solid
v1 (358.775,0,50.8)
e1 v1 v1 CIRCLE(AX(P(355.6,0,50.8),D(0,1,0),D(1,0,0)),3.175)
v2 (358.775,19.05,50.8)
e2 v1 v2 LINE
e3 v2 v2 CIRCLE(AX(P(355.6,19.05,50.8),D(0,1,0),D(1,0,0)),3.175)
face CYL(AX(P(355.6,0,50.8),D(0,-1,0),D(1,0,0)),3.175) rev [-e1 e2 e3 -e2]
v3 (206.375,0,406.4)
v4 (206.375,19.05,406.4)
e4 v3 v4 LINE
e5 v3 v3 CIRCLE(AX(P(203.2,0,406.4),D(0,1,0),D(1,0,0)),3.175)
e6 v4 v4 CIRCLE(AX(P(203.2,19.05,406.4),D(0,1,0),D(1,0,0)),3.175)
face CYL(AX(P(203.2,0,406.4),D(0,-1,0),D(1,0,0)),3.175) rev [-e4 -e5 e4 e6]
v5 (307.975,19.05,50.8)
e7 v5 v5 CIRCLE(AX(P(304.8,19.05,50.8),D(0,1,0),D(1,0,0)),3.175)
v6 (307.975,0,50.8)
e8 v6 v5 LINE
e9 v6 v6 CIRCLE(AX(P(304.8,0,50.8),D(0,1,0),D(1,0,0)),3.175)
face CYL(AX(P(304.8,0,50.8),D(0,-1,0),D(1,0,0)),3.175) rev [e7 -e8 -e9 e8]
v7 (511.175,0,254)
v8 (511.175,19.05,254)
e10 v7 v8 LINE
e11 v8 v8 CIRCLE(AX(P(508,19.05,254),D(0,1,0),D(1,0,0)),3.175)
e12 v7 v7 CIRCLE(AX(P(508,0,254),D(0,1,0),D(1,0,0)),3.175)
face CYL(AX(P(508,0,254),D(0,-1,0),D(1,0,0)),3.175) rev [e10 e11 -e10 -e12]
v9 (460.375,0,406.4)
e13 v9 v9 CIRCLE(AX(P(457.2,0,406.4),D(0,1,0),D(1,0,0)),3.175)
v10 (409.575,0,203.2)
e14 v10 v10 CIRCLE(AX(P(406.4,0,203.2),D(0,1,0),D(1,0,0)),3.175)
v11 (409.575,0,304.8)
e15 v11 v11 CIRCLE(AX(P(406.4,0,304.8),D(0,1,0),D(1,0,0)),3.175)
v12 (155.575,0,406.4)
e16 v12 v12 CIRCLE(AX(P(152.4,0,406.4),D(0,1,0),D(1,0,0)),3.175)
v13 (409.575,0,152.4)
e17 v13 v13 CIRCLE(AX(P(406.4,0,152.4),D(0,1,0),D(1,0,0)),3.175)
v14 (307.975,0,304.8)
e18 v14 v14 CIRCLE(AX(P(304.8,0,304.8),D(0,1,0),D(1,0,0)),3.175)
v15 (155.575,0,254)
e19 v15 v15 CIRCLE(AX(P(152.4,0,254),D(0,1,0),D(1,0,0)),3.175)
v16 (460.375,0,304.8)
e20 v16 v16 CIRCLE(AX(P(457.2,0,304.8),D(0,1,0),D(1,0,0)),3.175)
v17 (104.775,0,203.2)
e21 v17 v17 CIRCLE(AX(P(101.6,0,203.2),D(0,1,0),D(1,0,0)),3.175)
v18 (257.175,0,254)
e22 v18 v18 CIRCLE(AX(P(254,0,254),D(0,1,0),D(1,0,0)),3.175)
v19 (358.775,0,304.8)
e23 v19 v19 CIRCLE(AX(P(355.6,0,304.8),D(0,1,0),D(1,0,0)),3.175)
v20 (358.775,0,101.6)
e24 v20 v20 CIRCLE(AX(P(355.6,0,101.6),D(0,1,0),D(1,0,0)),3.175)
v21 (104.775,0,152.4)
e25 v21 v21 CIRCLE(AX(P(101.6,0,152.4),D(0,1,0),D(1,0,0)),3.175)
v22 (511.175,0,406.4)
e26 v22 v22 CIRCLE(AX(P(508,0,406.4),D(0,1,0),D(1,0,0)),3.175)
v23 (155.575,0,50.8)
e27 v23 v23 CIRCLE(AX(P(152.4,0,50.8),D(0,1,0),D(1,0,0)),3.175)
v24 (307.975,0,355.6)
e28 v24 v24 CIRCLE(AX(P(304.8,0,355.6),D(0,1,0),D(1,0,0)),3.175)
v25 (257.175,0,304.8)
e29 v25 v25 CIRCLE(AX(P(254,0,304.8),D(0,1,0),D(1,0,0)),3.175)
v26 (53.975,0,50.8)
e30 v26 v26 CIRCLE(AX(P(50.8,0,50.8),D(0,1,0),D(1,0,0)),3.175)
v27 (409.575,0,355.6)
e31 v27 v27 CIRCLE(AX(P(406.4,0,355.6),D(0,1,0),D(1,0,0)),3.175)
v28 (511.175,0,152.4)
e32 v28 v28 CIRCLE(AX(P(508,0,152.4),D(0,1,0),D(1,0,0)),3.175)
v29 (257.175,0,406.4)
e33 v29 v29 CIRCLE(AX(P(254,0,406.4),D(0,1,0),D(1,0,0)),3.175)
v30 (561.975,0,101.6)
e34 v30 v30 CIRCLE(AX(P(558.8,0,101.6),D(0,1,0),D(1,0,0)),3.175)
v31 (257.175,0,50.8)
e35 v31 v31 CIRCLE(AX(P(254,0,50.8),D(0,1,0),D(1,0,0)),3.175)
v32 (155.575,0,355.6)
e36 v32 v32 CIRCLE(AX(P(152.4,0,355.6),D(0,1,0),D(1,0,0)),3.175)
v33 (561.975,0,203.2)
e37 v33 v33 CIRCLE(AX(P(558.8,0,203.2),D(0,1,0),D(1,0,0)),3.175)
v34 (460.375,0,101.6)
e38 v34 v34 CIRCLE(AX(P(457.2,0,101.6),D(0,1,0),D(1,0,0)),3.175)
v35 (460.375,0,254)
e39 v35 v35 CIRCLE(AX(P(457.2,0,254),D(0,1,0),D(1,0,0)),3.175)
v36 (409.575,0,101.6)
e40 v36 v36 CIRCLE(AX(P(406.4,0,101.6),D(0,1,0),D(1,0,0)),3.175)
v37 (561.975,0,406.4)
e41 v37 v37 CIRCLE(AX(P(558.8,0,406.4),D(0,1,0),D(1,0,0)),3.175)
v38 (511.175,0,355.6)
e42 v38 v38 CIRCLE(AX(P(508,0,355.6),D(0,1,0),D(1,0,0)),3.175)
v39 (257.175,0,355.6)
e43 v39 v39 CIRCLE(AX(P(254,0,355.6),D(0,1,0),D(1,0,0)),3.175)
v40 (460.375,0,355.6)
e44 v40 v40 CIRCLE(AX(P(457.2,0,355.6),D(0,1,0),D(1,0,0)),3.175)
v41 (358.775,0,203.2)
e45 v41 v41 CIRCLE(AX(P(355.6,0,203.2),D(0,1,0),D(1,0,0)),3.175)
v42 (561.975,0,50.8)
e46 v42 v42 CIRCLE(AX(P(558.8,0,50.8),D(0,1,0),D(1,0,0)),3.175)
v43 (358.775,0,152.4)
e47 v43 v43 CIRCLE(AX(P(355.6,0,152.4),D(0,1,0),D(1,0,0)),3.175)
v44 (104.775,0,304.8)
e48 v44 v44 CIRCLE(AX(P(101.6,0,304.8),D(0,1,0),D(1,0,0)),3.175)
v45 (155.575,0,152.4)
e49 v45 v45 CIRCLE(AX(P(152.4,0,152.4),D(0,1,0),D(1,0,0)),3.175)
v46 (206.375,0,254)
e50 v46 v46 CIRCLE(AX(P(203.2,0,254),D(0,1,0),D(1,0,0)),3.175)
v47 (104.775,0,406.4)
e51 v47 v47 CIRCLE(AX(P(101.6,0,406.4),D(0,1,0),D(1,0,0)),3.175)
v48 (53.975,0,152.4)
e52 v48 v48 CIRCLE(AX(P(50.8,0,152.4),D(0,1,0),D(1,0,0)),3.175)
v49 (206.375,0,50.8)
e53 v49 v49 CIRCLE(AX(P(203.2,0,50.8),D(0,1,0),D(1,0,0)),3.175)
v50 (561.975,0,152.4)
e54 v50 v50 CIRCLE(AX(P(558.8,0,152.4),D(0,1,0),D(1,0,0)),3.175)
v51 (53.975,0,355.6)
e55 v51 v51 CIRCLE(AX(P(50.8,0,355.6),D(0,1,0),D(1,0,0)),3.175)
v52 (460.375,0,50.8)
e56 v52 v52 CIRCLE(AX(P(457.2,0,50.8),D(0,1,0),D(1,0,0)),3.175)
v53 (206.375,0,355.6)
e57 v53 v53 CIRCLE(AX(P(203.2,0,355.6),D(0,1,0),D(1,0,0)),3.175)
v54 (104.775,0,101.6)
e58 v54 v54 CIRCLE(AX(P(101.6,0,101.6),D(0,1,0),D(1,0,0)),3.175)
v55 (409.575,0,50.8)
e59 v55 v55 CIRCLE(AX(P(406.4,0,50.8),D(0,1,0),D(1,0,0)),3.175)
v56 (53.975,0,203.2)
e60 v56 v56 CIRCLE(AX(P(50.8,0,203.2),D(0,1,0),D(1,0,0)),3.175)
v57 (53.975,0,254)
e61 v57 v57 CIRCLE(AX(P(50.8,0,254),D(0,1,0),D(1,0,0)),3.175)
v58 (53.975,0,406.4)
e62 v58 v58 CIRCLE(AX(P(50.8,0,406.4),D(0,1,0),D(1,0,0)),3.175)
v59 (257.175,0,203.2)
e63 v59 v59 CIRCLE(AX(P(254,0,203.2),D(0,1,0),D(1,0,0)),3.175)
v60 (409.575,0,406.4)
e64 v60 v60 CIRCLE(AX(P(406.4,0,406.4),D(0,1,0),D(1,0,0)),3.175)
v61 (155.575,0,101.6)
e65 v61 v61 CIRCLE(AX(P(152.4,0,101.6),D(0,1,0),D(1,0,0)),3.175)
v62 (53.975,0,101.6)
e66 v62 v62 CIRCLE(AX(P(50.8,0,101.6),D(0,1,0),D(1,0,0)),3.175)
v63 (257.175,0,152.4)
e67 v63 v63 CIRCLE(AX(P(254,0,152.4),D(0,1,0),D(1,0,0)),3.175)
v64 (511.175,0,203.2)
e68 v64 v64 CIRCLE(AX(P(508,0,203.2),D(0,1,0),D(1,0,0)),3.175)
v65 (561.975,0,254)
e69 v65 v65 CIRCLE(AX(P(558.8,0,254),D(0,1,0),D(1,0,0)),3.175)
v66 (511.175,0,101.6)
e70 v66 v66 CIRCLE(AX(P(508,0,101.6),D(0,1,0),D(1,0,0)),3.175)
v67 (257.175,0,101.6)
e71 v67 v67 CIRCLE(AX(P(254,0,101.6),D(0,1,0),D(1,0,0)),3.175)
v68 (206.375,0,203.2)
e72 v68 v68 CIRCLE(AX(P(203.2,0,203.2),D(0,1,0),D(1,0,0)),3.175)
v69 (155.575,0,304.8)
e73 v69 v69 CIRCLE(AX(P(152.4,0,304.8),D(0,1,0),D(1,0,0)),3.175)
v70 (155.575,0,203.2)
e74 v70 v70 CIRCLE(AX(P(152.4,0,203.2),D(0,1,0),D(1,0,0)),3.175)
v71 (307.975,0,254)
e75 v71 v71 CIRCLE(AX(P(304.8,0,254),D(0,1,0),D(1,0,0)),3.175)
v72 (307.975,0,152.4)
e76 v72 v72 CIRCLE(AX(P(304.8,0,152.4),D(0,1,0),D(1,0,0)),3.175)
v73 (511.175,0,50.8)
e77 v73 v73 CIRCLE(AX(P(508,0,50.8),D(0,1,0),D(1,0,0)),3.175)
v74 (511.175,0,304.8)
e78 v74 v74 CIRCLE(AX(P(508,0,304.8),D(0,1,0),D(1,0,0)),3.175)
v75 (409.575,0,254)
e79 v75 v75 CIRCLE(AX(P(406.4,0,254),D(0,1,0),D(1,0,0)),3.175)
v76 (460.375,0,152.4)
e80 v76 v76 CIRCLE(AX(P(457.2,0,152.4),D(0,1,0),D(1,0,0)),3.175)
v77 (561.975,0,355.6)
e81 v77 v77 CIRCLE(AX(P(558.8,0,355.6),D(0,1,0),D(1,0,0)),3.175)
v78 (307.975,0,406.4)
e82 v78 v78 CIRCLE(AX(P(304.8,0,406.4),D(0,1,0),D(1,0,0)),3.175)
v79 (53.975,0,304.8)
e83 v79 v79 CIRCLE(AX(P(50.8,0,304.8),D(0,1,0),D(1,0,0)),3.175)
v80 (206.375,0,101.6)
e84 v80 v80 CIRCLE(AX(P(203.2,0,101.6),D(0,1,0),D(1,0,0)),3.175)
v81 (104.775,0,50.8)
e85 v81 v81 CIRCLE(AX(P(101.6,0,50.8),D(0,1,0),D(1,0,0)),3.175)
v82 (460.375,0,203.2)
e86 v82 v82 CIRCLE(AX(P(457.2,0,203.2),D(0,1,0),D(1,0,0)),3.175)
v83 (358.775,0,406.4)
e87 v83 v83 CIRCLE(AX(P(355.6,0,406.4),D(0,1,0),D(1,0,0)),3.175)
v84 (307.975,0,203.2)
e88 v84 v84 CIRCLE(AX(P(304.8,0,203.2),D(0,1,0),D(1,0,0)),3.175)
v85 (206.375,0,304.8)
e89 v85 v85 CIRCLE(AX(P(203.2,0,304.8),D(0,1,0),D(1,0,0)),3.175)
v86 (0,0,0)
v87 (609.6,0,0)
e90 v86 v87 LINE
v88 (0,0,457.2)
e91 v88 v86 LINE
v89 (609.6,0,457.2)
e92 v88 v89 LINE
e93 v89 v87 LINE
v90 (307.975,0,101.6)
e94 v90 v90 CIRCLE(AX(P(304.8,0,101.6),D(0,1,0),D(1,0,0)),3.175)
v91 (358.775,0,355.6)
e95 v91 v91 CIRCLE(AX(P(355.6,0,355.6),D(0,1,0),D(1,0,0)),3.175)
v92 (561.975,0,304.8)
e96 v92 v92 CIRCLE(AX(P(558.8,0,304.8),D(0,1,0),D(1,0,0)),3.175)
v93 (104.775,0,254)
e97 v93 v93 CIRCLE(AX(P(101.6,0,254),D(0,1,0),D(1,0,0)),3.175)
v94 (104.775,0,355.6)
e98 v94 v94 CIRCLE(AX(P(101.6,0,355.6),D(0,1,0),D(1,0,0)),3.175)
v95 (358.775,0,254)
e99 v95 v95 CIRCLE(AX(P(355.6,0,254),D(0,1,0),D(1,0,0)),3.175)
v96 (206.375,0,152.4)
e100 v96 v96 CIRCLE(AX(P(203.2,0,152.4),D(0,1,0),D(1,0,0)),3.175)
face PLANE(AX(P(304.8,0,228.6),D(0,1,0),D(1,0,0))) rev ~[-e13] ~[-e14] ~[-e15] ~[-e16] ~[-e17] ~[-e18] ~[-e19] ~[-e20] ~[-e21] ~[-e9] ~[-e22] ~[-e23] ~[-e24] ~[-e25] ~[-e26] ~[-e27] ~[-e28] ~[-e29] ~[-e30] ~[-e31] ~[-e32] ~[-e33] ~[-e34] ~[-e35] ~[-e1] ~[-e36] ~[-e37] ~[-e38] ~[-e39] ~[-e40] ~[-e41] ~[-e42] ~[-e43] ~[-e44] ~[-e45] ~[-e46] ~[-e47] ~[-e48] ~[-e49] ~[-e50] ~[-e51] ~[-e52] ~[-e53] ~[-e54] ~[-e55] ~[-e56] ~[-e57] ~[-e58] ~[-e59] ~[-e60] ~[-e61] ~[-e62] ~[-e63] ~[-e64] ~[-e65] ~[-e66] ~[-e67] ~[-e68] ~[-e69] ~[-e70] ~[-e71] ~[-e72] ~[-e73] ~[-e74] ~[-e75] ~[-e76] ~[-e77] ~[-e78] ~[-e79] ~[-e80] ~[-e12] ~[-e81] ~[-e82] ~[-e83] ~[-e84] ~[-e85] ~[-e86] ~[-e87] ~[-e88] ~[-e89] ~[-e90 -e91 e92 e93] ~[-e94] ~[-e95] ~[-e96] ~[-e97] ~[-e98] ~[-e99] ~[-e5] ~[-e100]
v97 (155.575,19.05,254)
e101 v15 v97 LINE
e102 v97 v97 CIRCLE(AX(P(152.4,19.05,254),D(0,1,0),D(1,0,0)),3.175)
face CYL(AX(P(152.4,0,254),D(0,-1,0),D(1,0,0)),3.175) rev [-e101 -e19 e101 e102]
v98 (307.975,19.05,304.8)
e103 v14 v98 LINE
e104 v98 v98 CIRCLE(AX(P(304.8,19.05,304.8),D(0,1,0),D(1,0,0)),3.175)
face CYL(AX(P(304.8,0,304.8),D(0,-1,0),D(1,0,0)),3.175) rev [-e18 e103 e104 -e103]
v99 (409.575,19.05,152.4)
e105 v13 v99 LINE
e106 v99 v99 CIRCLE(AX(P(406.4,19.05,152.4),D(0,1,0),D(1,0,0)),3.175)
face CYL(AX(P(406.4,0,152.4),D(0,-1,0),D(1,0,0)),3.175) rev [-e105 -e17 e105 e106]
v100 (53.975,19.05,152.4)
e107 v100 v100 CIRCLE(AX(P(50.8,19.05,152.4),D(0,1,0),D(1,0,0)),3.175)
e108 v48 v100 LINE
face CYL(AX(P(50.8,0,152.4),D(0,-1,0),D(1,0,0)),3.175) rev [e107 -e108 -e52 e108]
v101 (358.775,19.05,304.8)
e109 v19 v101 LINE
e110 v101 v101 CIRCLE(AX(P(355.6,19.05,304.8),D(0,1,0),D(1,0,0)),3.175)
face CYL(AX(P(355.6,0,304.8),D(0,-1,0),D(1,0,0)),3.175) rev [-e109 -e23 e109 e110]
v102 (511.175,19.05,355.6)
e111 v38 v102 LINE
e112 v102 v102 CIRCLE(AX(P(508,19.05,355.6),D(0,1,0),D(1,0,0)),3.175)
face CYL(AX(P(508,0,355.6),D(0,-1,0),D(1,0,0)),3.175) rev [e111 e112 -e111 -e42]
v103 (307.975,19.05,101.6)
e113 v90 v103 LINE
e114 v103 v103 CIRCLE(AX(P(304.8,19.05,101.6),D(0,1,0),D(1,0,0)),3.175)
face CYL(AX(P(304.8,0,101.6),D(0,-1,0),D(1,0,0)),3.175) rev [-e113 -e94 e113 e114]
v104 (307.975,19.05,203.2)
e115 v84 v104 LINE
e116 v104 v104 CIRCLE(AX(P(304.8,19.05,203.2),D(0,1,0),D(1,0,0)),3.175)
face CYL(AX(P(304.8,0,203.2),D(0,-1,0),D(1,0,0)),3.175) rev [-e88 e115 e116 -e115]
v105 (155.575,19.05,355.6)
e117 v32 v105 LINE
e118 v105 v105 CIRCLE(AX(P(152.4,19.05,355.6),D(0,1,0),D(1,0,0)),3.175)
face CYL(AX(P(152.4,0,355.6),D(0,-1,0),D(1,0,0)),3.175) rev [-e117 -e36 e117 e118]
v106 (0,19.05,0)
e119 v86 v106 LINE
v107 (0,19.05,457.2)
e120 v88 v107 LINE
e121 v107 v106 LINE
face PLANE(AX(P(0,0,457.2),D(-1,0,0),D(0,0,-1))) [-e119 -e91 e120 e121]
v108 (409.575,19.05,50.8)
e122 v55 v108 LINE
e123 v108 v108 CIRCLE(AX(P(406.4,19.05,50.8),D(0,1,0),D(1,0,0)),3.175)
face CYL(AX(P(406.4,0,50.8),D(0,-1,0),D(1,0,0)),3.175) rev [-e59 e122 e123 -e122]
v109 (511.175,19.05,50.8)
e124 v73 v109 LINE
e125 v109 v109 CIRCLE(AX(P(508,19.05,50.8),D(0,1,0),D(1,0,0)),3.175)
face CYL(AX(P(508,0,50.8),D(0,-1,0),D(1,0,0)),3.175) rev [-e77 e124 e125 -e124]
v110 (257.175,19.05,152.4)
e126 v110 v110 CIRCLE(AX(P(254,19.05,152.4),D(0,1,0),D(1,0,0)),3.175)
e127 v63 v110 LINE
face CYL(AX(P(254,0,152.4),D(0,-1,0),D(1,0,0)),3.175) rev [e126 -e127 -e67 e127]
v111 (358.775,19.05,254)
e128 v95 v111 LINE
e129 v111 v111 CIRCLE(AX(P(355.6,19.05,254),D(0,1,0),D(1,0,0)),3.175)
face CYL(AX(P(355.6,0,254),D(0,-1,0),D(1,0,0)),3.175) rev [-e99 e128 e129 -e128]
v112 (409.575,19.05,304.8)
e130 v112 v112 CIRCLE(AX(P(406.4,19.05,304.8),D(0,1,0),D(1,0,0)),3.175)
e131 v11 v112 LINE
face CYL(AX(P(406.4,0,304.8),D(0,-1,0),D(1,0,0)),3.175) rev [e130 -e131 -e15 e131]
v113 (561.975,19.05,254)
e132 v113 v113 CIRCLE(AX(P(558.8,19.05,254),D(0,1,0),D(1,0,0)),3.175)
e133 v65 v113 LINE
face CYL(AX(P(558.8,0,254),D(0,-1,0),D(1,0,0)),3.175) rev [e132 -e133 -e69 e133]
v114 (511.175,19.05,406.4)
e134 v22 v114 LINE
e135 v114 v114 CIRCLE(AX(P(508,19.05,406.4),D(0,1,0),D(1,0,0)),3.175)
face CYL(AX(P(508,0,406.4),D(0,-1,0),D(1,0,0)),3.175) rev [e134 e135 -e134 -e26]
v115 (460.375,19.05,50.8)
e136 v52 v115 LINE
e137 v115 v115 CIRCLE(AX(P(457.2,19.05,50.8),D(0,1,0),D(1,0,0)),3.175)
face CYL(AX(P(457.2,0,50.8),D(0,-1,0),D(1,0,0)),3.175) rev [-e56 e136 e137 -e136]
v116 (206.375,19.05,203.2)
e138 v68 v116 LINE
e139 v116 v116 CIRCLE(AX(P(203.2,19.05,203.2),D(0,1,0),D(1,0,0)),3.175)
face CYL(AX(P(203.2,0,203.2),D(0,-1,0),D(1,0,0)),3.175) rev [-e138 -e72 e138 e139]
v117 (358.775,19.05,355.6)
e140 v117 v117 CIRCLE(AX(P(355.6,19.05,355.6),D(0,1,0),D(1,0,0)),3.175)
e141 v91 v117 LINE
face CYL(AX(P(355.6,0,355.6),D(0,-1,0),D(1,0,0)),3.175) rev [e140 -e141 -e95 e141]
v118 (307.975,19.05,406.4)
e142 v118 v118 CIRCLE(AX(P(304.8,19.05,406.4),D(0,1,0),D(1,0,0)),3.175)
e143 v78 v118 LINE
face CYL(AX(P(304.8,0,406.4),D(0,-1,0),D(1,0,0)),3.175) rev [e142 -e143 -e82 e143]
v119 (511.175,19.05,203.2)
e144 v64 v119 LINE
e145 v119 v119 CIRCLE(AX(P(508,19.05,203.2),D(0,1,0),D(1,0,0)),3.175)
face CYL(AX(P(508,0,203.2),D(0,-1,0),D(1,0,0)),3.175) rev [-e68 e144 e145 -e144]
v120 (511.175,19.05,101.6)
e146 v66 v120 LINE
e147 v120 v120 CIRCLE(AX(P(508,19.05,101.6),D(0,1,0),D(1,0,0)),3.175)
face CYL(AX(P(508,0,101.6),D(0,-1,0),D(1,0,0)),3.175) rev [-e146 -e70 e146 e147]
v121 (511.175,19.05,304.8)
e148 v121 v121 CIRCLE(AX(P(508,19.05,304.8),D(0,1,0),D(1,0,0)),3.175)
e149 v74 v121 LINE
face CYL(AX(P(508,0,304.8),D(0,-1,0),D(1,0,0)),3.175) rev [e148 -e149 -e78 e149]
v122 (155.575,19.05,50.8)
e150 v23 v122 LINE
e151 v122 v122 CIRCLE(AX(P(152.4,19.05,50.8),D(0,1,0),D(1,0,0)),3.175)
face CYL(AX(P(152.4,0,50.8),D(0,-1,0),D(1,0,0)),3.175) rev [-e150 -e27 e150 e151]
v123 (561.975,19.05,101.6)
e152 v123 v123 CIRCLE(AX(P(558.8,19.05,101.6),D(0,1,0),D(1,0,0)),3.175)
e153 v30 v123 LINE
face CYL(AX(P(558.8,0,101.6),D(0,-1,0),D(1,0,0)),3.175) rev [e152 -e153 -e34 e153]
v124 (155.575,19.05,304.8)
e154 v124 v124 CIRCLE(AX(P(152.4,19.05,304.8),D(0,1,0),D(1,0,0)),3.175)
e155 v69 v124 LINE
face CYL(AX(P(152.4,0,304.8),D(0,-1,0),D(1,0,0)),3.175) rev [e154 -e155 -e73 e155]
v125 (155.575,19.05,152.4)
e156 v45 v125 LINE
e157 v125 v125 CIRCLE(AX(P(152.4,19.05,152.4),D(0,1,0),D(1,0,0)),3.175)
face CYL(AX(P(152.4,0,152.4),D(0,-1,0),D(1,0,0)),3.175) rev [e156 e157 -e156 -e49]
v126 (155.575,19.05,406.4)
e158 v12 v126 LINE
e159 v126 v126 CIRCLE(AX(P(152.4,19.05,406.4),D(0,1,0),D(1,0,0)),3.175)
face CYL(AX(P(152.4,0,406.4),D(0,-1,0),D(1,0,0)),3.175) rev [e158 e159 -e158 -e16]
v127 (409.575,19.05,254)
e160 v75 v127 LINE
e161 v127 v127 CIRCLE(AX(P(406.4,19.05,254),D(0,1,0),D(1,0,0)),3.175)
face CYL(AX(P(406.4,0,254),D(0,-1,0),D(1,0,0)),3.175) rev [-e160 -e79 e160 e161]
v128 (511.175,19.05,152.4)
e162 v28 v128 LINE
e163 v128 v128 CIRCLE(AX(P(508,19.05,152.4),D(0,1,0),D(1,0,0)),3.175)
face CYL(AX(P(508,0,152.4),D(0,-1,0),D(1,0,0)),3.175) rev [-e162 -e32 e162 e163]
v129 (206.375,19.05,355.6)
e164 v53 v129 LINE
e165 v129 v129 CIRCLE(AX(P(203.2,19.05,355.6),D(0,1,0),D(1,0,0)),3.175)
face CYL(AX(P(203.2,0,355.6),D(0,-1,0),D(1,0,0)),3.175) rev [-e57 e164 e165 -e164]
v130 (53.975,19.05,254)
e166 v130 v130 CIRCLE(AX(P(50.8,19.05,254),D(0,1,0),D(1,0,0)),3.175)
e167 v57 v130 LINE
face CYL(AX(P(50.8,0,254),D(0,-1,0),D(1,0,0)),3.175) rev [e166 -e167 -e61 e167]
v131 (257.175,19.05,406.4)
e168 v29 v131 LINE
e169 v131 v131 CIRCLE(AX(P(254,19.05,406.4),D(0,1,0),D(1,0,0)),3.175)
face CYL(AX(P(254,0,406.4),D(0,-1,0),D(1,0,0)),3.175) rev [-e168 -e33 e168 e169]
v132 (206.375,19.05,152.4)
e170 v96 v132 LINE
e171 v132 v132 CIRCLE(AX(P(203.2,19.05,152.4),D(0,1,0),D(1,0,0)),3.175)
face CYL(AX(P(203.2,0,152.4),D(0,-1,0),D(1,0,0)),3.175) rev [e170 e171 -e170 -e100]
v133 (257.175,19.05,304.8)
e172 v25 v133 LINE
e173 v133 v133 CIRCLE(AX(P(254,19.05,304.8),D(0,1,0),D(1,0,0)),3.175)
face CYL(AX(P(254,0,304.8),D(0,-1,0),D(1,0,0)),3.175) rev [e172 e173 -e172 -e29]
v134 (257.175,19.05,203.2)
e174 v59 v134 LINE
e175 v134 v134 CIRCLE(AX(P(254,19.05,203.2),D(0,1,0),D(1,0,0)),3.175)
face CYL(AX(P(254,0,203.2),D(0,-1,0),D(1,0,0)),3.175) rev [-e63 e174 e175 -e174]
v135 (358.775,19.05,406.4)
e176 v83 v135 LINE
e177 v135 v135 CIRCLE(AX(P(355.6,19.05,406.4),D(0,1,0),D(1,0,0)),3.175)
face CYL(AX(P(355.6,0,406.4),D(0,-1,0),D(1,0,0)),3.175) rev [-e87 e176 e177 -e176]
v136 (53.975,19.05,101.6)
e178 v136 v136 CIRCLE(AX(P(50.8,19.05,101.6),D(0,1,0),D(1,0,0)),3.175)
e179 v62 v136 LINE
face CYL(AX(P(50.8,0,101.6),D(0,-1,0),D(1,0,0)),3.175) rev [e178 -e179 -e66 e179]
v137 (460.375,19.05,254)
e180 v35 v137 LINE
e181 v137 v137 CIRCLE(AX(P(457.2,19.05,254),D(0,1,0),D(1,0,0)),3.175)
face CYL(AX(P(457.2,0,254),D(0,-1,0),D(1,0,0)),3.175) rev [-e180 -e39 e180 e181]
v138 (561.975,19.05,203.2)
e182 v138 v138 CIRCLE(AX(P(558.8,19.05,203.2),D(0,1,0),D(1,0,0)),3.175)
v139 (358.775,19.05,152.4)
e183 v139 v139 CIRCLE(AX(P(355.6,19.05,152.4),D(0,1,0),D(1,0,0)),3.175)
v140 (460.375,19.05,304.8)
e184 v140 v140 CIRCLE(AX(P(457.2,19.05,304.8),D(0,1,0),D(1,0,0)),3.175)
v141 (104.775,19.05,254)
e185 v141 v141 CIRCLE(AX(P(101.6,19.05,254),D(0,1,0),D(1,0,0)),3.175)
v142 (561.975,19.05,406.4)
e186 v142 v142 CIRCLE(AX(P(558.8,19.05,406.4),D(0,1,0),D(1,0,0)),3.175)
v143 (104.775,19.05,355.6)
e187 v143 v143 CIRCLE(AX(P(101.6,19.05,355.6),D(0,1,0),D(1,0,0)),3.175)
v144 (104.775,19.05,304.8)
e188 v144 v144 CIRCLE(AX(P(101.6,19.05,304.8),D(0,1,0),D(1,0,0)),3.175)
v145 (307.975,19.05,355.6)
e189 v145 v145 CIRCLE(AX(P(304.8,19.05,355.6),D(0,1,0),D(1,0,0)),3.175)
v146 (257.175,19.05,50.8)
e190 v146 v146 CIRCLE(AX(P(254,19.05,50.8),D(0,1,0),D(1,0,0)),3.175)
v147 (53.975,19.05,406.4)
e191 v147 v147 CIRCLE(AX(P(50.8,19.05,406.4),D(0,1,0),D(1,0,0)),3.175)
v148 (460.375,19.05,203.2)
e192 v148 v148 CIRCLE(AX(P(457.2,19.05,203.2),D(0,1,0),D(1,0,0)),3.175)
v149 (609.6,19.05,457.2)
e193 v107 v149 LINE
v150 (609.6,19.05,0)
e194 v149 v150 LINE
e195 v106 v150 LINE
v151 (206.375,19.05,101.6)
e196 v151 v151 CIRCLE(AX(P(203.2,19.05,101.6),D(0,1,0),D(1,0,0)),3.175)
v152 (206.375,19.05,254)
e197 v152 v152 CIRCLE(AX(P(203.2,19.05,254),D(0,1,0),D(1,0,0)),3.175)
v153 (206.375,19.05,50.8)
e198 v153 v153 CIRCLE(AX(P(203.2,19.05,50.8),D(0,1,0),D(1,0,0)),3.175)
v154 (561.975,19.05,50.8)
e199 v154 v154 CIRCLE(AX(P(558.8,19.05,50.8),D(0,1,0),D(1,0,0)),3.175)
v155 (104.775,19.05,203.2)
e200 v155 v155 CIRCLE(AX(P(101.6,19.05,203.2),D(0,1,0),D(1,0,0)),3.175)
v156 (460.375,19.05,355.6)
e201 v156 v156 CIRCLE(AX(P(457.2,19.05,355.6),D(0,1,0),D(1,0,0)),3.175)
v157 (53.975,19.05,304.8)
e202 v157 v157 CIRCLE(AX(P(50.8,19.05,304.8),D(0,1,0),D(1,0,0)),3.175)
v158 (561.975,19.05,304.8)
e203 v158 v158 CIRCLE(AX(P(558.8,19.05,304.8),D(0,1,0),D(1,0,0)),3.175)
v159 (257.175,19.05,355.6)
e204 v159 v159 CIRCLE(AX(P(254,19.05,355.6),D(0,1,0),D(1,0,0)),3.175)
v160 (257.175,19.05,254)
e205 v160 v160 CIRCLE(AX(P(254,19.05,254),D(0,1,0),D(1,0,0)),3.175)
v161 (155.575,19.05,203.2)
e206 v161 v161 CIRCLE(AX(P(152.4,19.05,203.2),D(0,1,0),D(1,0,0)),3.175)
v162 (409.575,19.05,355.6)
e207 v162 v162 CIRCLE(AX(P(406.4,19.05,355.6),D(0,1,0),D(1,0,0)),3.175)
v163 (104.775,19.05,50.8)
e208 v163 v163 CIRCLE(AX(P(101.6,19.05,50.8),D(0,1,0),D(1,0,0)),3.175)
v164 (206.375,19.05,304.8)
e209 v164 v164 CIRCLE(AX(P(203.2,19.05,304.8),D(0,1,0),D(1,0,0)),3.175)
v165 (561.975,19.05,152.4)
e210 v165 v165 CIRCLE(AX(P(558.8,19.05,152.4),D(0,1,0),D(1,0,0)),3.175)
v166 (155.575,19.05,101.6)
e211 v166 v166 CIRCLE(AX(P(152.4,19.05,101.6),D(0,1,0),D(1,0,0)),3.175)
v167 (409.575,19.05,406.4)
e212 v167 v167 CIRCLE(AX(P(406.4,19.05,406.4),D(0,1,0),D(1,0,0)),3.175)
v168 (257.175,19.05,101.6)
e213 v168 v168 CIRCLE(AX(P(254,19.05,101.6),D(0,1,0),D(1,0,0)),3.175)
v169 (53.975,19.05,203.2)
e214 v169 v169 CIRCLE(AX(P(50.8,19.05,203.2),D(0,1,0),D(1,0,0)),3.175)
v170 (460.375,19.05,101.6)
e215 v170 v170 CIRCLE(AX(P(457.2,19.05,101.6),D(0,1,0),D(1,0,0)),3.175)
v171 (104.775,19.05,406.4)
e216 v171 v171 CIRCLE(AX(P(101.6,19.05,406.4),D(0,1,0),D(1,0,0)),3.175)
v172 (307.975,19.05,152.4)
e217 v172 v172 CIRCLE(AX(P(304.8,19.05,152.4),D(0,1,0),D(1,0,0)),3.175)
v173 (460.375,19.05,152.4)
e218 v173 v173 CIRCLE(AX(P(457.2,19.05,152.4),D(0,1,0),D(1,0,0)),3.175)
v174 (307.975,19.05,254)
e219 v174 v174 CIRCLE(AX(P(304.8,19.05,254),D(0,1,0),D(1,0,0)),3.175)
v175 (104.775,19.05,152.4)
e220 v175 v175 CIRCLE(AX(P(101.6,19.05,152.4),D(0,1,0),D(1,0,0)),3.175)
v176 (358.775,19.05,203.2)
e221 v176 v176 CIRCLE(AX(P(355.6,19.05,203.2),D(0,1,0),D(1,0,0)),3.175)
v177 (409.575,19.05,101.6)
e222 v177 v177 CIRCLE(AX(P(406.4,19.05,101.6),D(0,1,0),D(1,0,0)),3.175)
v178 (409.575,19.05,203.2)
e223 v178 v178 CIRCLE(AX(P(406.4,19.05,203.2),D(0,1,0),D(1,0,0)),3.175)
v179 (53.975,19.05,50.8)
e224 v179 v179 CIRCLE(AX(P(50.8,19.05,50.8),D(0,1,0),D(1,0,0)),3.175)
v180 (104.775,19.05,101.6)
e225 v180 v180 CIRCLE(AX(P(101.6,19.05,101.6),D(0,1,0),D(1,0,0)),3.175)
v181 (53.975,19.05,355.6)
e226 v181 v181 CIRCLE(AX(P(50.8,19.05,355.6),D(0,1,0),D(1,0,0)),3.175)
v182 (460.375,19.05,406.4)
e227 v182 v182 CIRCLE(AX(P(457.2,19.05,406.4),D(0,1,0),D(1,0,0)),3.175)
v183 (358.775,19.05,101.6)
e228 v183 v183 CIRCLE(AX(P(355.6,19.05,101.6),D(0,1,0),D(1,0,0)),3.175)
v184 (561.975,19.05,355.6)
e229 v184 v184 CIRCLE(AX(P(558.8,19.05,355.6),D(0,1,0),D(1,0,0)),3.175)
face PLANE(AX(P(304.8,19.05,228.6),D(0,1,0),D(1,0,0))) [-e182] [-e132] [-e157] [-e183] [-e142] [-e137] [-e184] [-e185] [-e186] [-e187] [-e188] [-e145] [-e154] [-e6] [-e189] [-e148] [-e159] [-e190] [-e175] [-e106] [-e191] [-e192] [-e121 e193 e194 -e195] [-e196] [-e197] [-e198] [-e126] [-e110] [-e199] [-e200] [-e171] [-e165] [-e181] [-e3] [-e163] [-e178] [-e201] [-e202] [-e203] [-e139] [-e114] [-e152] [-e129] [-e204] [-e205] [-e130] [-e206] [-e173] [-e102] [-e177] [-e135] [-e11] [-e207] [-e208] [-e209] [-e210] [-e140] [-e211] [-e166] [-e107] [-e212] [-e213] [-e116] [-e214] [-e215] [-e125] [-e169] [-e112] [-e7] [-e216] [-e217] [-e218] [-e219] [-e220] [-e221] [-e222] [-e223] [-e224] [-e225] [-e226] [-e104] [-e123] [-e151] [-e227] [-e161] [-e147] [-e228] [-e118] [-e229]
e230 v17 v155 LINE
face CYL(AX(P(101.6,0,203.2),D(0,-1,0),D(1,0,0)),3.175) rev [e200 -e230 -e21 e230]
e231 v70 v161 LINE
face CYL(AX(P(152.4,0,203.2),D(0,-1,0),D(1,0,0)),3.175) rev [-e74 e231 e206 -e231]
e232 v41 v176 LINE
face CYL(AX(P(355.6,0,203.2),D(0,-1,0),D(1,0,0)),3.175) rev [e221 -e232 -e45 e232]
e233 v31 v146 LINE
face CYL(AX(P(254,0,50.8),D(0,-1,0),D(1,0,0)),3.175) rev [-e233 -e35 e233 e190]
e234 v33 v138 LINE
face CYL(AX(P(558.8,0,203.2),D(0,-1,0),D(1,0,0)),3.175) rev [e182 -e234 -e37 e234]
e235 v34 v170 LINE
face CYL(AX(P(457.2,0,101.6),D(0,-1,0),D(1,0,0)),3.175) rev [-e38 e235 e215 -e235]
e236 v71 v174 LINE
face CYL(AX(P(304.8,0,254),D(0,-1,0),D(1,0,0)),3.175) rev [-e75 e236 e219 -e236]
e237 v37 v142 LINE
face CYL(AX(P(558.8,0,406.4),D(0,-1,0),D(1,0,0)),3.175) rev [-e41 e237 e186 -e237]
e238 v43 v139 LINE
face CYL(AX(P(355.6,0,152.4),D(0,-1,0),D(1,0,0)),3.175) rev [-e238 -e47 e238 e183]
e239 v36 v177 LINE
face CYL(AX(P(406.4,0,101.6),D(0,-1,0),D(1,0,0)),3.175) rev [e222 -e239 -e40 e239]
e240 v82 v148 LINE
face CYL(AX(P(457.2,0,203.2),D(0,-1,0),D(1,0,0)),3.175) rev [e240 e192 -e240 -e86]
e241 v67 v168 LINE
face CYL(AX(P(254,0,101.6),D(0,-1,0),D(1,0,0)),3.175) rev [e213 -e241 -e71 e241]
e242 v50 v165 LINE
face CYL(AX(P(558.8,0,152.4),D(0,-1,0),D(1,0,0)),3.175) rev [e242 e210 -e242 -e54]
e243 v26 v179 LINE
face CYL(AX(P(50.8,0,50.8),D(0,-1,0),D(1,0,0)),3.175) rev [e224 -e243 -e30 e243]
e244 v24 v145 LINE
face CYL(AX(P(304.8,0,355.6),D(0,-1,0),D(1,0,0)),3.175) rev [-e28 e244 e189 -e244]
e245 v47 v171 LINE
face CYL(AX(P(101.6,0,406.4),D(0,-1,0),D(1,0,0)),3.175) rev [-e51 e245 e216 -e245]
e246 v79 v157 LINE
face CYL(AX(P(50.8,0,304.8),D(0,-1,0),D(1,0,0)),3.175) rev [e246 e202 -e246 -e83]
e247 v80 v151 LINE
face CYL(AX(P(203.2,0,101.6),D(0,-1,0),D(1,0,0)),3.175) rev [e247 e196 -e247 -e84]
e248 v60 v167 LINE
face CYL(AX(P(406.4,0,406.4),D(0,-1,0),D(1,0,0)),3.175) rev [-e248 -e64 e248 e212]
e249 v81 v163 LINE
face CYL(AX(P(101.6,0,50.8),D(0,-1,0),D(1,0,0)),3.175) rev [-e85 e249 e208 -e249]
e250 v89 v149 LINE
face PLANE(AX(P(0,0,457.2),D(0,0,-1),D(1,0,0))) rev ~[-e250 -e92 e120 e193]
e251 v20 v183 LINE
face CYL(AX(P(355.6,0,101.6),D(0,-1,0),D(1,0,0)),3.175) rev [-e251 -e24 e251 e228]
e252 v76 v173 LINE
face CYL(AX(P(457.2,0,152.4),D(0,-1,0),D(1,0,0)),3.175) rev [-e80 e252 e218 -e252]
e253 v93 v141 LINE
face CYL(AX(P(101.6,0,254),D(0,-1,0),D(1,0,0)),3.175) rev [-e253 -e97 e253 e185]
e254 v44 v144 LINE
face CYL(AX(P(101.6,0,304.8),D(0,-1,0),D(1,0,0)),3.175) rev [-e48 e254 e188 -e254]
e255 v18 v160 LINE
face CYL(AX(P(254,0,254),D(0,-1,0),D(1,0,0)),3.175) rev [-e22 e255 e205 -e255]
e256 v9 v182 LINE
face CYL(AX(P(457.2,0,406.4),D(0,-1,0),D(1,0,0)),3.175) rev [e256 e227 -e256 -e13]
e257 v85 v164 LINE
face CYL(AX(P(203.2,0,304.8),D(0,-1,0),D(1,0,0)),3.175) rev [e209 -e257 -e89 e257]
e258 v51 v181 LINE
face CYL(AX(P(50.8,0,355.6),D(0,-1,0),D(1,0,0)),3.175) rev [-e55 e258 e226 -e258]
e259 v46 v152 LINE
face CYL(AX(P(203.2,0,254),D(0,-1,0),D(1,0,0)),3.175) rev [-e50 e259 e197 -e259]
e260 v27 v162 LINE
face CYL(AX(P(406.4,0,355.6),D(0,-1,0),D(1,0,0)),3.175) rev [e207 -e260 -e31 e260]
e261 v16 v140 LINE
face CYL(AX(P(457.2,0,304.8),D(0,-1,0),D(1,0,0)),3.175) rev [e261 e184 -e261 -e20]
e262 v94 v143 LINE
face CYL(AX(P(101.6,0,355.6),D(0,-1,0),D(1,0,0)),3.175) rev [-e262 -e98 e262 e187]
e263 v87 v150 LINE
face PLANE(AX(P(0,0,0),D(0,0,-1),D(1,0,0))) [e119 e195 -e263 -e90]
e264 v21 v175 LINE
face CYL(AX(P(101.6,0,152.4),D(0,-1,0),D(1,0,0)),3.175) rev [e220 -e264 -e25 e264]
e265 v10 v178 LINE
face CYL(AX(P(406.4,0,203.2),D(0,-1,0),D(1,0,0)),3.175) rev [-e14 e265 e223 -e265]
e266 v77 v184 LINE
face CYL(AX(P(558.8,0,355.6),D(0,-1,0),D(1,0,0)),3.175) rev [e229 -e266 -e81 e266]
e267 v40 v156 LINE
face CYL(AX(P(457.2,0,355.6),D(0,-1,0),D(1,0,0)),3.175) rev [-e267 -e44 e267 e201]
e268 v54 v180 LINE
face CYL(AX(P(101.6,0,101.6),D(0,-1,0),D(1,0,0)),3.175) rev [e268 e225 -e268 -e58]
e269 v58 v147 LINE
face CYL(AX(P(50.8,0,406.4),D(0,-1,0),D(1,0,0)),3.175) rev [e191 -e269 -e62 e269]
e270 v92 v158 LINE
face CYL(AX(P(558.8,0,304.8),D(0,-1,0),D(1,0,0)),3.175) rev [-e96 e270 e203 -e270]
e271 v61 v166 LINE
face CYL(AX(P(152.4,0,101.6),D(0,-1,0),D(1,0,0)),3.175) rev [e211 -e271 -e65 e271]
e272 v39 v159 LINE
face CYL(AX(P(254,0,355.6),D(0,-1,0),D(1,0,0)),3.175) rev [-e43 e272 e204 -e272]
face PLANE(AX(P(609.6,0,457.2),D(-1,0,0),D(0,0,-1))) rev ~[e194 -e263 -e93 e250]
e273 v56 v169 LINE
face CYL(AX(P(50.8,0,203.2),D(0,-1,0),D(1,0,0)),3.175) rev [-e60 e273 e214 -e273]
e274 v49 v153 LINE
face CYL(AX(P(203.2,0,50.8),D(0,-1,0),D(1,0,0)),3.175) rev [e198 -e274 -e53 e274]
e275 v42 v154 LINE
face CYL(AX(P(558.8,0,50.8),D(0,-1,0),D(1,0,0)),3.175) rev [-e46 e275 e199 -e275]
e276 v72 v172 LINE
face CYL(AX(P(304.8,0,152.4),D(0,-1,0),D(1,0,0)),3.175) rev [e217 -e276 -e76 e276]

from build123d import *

# Parameters (mm, degrees)
SKETCH1_W           = 609.6
SKETCH1_H           = 457.2
SKETCH1_R           = 3.175
BOSS_EXTRUDE1_DEPTH = 19.05


with BuildPart() as part:
    # Sketch1 → Boss-Extrude1 (new body)
    with BuildSketch(Plane(origin=(0, 0, 0), x_dir=(1, 0, 0), z_dir=(0, 1, 0))):
        with Locations((304.8, -228.6)):
            Rectangle(SKETCH1_W, SKETCH1_H)
        with Locations((50.8, -50.8)):
            Circle(SKETCH1_R, mode=Mode.SUBTRACT)
        with Locations((101.6, -50.8)):
            Circle(SKETCH1_R, mode=Mode.SUBTRACT)
        with Locations((152.4, -50.8)):
            Circle(SKETCH1_R, mode=Mode.SUBTRACT)
        with Locations((203.2, -50.8)):
            Circle(SKETCH1_R, mode=Mode.SUBTRACT)
        with Locations((254, -50.8)):
            Circle(SKETCH1_R, mode=Mode.SUBTRACT)
        with Locations((304.8, -50.8)):
            Circle(SKETCH1_R, mode=Mode.SUBTRACT)
        with Locations((355.6, -50.8)):
            Circle(SKETCH1_R, mode=Mode.SUBTRACT)
        with Locations((406.4, -50.8)):
            Circle(SKETCH1_R, mode=Mode.SUBTRACT)
        with Locations((457.2, -50.8)):
            Circle(SKETCH1_R, mode=Mode.SUBTRACT)
        with Locations((508, -50.8)):
            Circle(SKETCH1_R, mode=Mode.SUBTRACT)
        with Locations((558.8, -50.8)):
            Circle(SKETCH1_R, mode=Mode.SUBTRACT)
        with Locations((50.8, -101.6)):
            Circle(SKETCH1_R, mode=Mode.SUBTRACT)
        with Locations((101.6, -101.6)):
            Circle(SKETCH1_R, mode=Mode.SUBTRACT)
        with Locations((152.4, -101.6)):
            Circle(SKETCH1_R, mode=Mode.SUBTRACT)
        with Locations((203.2, -101.6)):
            Circle(SKETCH1_R, mode=Mode.SUBTRACT)
        with Locations((254, -101.6)):
            Circle(SKETCH1_R, mode=Mode.SUBTRACT)
        with Locations((304.8, -101.6)):
            Circle(SKETCH1_R, mode=Mode.SUBTRACT)
        with Locations((355.6, -101.6)):
            Circle(SKETCH1_R, mode=Mode.SUBTRACT)
        with Locations((406.4, -101.6)):
            Circle(SKETCH1_R, mode=Mode.SUBTRACT)
        with Locations((457.2, -101.6)):
            Circle(SKETCH1_R, mode=Mode.SUBTRACT)
        with Locations((508, -101.6)):
            Circle(SKETCH1_R, mode=Mode.SUBTRACT)
        with Locations((558.8, -101.6)):
            Circle(SKETCH1_R, mode=Mode.SUBTRACT)
        with Locations((50.8, -152.4)):
            Circle(SKETCH1_R, mode=Mode.SUBTRACT)
        with Locations((101.6, -152.4)):
            Circle(SKETCH1_R, mode=Mode.SUBTRACT)
        with Locations((152.4, -152.4)):
            Circle(SKETCH1_R, mode=Mode.SUBTRACT)
        with Locations((203.2, -152.4)):
            Circle(SKETCH1_R, mode=Mode.SUBTRACT)
        with Locations((254, -152.4)):
            Circle(SKETCH1_R, mode=Mode.SUBTRACT)
        with Locations((304.8, -152.4)):
            Circle(SKETCH1_R, mode=Mode.SUBTRACT)
        with Locations((355.6, -152.4)):
            Circle(SKETCH1_R, mode=Mode.SUBTRACT)
        with Locations((406.4, -152.4)):
            Circle(SKETCH1_R, mode=Mode.SUBTRACT)
        with Locations((457.2, -152.4)):
            Circle(SKETCH1_R, mode=Mode.SUBTRACT)
        with Locations((508, -152.4)):
            Circle(SKETCH1_R, mode=Mode.SUBTRACT)
        with Locations((558.8, -152.4)):
            Circle(SKETCH1_R, mode=Mode.SUBTRACT)
        with Locations((50.8, -203.2)):
            Circle(SKETCH1_R, mode=Mode.SUBTRACT)
        with Locations((101.6, -203.2)):
            Circle(SKETCH1_R, mode=Mode.SUBTRACT)
        with Locations((152.4, -203.2)):
            Circle(SKETCH1_R, mode=Mode.SUBTRACT)
        with Locations((203.2, -203.2)):
            Circle(SKETCH1_R, mode=Mode.SUBTRACT)
        with Locations((254, -203.2)):
            Circle(SKETCH1_R, mode=Mode.SUBTRACT)
        with Locations((304.8, -203.2)):
            Circle(SKETCH1_R, mode=Mode.SUBTRACT)
        with Locations((355.6, -203.2)):
            Circle(SKETCH1_R, mode=Mode.SUBTRACT)
        with Locations((406.4, -203.2)):
            Circle(SKETCH1_R, mode=Mode.SUBTRACT)
        with Locations((457.2, -203.2)):
            Circle(SKETCH1_R, mode=Mode.SUBTRACT)
        with Locations((508, -203.2)):
            Circle(SKETCH1_R, mode=Mode.SUBTRACT)
        with Locations((558.8, -203.2)):
            Circle(SKETCH1_R, mode=Mode.SUBTRACT)
        with Locations((50.8, -254)):
            Circle(SKETCH1_R, mode=Mode.SUBTRACT)
        with Locations((101.6, -254)):
            Circle(SKETCH1_R, mode=Mode.SUBTRACT)
        with Locations((152.4, -254)):
            Circle(SKETCH1_R, mode=Mode.SUBTRACT)
        with Locations((203.2, -254)):
            Circle(SKETCH1_R, mode=Mode.SUBTRACT)
        with Locations((254, -254)):
            Circle(SKETCH1_R, mode=Mode.SUBTRACT)
        with Locations((304.8, -254)):
            Circle(SKETCH1_R, mode=Mode.SUBTRACT)
        with Locations((355.6, -254)):
            Circle(SKETCH1_R, mode=Mode.SUBTRACT)
        with Locations((406.4, -254)):
            Circle(SKETCH1_R, mode=Mode.SUBTRACT)
        with Locations((457.2, -254)):
            Circle(SKETCH1_R, mode=Mode.SUBTRACT)
        with Locations((508, -254)):
            Circle(SKETCH1_R, mode=Mode.SUBTRACT)
        with Locations((558.8, -254)):
            Circle(SKETCH1_R, mode=Mode.SUBTRACT)
        with Locations((50.8, -304.8)):
            Circle(SKETCH1_R, mode=Mode.SUBTRACT)
        with Locations((101.6, -304.8)):
            Circle(SKETCH1_R, mode=Mode.SUBTRACT)
        with Locations((152.4, -304.8)):
            Circle(SKETCH1_R, mode=Mode.SUBTRACT)
        with Locations((203.2, -304.8)):
            Circle(SKETCH1_R, mode=Mode.SUBTRACT)
        with Locations((254, -304.8)):
            Circle(SKETCH1_R, mode=Mode.SUBTRACT)
        with Locations((304.8, -304.8)):
            Circle(SKETCH1_R, mode=Mode.SUBTRACT)
        with Locations((355.6, -304.8)):
            Circle(SKETCH1_R, mode=Mode.SUBTRACT)
        with Locations((406.4, -304.8)):
            Circle(SKETCH1_R, mode=Mode.SUBTRACT)
        with Locations((457.2, -304.8)):
            Circle(SKETCH1_R, mode=Mode.SUBTRACT)
        with Locations((508, -304.8)):
            Circle(SKETCH1_R, mode=Mode.SUBTRACT)
        with Locations((558.8, -304.8)):
            Circle(SKETCH1_R, mode=Mode.SUBTRACT)
        with Locations((50.8, -355.6)):
            Circle(SKETCH1_R, mode=Mode.SUBTRACT)
        with Locations((101.6, -355.6)):
            Circle(SKETCH1_R, mode=Mode.SUBTRACT)
        with Locations((152.4, -355.6)):
            Circle(SKETCH1_R, mode=Mode.SUBTRACT)
        with Locations((203.2, -355.6)):
            Circle(SKETCH1_R, mode=Mode.SUBTRACT)
        with Locations((254, -355.6)):
            Circle(SKETCH1_R, mode=Mode.SUBTRACT)
        with Locations((304.8, -355.6)):
            Circle(SKETCH1_R, mode=Mode.SUBTRACT)
        with Locations((355.6, -355.6)):
            Circle(SKETCH1_R, mode=Mode.SUBTRACT)
        with Locations((406.4, -355.6)):
            Circle(SKETCH1_R, mode=Mode.SUBTRACT)
        with Locations((457.2, -355.6)):
            Circle(SKETCH1_R, mode=Mode.SUBTRACT)
        with Locations((508, -355.6)):
            Circle(SKETCH1_R, mode=Mode.SUBTRACT)
        with Locations((558.8, -355.6)):
            Circle(SKETCH1_R, mode=Mode.SUBTRACT)
        with Locations((50.8, -406.4)):
            Circle(SKETCH1_R, mode=Mode.SUBTRACT)
        with Locations((101.6, -406.4)):
            Circle(SKETCH1_R, mode=Mode.SUBTRACT)
        with Locations((152.4, -406.4)):
            Circle(SKETCH1_R, mode=Mode.SUBTRACT)
        with Locations((203.2, -406.4)):
            Circle(SKETCH1_R, mode=Mode.SUBTRACT)
        with Locations((254, -406.4)):
            Circle(SKETCH1_R, mode=Mode.SUBTRACT)
        with Locations((304.8, -406.4)):
            Circle(SKETCH1_R, mode=Mode.SUBTRACT)
        with Locations((355.6, -406.4)):
            Circle(SKETCH1_R, mode=Mode.SUBTRACT)
        with Locations((406.4, -406.4)):
            Circle(SKETCH1_R, mode=Mode.SUBTRACT)
        with Locations((457.2, -406.4)):
            Circle(SKETCH1_R, mode=Mode.SUBTRACT)
        with Locations((508, -406.4)):
            Circle(SKETCH1_R, mode=Mode.SUBTRACT)
        with Locations((558.8, -406.4)):
            Circle(SKETCH1_R, mode=Mode.SUBTRACT)
    extrude(amount=BOSS_EXTRUDE1_DEPTH)


solid = part.part
